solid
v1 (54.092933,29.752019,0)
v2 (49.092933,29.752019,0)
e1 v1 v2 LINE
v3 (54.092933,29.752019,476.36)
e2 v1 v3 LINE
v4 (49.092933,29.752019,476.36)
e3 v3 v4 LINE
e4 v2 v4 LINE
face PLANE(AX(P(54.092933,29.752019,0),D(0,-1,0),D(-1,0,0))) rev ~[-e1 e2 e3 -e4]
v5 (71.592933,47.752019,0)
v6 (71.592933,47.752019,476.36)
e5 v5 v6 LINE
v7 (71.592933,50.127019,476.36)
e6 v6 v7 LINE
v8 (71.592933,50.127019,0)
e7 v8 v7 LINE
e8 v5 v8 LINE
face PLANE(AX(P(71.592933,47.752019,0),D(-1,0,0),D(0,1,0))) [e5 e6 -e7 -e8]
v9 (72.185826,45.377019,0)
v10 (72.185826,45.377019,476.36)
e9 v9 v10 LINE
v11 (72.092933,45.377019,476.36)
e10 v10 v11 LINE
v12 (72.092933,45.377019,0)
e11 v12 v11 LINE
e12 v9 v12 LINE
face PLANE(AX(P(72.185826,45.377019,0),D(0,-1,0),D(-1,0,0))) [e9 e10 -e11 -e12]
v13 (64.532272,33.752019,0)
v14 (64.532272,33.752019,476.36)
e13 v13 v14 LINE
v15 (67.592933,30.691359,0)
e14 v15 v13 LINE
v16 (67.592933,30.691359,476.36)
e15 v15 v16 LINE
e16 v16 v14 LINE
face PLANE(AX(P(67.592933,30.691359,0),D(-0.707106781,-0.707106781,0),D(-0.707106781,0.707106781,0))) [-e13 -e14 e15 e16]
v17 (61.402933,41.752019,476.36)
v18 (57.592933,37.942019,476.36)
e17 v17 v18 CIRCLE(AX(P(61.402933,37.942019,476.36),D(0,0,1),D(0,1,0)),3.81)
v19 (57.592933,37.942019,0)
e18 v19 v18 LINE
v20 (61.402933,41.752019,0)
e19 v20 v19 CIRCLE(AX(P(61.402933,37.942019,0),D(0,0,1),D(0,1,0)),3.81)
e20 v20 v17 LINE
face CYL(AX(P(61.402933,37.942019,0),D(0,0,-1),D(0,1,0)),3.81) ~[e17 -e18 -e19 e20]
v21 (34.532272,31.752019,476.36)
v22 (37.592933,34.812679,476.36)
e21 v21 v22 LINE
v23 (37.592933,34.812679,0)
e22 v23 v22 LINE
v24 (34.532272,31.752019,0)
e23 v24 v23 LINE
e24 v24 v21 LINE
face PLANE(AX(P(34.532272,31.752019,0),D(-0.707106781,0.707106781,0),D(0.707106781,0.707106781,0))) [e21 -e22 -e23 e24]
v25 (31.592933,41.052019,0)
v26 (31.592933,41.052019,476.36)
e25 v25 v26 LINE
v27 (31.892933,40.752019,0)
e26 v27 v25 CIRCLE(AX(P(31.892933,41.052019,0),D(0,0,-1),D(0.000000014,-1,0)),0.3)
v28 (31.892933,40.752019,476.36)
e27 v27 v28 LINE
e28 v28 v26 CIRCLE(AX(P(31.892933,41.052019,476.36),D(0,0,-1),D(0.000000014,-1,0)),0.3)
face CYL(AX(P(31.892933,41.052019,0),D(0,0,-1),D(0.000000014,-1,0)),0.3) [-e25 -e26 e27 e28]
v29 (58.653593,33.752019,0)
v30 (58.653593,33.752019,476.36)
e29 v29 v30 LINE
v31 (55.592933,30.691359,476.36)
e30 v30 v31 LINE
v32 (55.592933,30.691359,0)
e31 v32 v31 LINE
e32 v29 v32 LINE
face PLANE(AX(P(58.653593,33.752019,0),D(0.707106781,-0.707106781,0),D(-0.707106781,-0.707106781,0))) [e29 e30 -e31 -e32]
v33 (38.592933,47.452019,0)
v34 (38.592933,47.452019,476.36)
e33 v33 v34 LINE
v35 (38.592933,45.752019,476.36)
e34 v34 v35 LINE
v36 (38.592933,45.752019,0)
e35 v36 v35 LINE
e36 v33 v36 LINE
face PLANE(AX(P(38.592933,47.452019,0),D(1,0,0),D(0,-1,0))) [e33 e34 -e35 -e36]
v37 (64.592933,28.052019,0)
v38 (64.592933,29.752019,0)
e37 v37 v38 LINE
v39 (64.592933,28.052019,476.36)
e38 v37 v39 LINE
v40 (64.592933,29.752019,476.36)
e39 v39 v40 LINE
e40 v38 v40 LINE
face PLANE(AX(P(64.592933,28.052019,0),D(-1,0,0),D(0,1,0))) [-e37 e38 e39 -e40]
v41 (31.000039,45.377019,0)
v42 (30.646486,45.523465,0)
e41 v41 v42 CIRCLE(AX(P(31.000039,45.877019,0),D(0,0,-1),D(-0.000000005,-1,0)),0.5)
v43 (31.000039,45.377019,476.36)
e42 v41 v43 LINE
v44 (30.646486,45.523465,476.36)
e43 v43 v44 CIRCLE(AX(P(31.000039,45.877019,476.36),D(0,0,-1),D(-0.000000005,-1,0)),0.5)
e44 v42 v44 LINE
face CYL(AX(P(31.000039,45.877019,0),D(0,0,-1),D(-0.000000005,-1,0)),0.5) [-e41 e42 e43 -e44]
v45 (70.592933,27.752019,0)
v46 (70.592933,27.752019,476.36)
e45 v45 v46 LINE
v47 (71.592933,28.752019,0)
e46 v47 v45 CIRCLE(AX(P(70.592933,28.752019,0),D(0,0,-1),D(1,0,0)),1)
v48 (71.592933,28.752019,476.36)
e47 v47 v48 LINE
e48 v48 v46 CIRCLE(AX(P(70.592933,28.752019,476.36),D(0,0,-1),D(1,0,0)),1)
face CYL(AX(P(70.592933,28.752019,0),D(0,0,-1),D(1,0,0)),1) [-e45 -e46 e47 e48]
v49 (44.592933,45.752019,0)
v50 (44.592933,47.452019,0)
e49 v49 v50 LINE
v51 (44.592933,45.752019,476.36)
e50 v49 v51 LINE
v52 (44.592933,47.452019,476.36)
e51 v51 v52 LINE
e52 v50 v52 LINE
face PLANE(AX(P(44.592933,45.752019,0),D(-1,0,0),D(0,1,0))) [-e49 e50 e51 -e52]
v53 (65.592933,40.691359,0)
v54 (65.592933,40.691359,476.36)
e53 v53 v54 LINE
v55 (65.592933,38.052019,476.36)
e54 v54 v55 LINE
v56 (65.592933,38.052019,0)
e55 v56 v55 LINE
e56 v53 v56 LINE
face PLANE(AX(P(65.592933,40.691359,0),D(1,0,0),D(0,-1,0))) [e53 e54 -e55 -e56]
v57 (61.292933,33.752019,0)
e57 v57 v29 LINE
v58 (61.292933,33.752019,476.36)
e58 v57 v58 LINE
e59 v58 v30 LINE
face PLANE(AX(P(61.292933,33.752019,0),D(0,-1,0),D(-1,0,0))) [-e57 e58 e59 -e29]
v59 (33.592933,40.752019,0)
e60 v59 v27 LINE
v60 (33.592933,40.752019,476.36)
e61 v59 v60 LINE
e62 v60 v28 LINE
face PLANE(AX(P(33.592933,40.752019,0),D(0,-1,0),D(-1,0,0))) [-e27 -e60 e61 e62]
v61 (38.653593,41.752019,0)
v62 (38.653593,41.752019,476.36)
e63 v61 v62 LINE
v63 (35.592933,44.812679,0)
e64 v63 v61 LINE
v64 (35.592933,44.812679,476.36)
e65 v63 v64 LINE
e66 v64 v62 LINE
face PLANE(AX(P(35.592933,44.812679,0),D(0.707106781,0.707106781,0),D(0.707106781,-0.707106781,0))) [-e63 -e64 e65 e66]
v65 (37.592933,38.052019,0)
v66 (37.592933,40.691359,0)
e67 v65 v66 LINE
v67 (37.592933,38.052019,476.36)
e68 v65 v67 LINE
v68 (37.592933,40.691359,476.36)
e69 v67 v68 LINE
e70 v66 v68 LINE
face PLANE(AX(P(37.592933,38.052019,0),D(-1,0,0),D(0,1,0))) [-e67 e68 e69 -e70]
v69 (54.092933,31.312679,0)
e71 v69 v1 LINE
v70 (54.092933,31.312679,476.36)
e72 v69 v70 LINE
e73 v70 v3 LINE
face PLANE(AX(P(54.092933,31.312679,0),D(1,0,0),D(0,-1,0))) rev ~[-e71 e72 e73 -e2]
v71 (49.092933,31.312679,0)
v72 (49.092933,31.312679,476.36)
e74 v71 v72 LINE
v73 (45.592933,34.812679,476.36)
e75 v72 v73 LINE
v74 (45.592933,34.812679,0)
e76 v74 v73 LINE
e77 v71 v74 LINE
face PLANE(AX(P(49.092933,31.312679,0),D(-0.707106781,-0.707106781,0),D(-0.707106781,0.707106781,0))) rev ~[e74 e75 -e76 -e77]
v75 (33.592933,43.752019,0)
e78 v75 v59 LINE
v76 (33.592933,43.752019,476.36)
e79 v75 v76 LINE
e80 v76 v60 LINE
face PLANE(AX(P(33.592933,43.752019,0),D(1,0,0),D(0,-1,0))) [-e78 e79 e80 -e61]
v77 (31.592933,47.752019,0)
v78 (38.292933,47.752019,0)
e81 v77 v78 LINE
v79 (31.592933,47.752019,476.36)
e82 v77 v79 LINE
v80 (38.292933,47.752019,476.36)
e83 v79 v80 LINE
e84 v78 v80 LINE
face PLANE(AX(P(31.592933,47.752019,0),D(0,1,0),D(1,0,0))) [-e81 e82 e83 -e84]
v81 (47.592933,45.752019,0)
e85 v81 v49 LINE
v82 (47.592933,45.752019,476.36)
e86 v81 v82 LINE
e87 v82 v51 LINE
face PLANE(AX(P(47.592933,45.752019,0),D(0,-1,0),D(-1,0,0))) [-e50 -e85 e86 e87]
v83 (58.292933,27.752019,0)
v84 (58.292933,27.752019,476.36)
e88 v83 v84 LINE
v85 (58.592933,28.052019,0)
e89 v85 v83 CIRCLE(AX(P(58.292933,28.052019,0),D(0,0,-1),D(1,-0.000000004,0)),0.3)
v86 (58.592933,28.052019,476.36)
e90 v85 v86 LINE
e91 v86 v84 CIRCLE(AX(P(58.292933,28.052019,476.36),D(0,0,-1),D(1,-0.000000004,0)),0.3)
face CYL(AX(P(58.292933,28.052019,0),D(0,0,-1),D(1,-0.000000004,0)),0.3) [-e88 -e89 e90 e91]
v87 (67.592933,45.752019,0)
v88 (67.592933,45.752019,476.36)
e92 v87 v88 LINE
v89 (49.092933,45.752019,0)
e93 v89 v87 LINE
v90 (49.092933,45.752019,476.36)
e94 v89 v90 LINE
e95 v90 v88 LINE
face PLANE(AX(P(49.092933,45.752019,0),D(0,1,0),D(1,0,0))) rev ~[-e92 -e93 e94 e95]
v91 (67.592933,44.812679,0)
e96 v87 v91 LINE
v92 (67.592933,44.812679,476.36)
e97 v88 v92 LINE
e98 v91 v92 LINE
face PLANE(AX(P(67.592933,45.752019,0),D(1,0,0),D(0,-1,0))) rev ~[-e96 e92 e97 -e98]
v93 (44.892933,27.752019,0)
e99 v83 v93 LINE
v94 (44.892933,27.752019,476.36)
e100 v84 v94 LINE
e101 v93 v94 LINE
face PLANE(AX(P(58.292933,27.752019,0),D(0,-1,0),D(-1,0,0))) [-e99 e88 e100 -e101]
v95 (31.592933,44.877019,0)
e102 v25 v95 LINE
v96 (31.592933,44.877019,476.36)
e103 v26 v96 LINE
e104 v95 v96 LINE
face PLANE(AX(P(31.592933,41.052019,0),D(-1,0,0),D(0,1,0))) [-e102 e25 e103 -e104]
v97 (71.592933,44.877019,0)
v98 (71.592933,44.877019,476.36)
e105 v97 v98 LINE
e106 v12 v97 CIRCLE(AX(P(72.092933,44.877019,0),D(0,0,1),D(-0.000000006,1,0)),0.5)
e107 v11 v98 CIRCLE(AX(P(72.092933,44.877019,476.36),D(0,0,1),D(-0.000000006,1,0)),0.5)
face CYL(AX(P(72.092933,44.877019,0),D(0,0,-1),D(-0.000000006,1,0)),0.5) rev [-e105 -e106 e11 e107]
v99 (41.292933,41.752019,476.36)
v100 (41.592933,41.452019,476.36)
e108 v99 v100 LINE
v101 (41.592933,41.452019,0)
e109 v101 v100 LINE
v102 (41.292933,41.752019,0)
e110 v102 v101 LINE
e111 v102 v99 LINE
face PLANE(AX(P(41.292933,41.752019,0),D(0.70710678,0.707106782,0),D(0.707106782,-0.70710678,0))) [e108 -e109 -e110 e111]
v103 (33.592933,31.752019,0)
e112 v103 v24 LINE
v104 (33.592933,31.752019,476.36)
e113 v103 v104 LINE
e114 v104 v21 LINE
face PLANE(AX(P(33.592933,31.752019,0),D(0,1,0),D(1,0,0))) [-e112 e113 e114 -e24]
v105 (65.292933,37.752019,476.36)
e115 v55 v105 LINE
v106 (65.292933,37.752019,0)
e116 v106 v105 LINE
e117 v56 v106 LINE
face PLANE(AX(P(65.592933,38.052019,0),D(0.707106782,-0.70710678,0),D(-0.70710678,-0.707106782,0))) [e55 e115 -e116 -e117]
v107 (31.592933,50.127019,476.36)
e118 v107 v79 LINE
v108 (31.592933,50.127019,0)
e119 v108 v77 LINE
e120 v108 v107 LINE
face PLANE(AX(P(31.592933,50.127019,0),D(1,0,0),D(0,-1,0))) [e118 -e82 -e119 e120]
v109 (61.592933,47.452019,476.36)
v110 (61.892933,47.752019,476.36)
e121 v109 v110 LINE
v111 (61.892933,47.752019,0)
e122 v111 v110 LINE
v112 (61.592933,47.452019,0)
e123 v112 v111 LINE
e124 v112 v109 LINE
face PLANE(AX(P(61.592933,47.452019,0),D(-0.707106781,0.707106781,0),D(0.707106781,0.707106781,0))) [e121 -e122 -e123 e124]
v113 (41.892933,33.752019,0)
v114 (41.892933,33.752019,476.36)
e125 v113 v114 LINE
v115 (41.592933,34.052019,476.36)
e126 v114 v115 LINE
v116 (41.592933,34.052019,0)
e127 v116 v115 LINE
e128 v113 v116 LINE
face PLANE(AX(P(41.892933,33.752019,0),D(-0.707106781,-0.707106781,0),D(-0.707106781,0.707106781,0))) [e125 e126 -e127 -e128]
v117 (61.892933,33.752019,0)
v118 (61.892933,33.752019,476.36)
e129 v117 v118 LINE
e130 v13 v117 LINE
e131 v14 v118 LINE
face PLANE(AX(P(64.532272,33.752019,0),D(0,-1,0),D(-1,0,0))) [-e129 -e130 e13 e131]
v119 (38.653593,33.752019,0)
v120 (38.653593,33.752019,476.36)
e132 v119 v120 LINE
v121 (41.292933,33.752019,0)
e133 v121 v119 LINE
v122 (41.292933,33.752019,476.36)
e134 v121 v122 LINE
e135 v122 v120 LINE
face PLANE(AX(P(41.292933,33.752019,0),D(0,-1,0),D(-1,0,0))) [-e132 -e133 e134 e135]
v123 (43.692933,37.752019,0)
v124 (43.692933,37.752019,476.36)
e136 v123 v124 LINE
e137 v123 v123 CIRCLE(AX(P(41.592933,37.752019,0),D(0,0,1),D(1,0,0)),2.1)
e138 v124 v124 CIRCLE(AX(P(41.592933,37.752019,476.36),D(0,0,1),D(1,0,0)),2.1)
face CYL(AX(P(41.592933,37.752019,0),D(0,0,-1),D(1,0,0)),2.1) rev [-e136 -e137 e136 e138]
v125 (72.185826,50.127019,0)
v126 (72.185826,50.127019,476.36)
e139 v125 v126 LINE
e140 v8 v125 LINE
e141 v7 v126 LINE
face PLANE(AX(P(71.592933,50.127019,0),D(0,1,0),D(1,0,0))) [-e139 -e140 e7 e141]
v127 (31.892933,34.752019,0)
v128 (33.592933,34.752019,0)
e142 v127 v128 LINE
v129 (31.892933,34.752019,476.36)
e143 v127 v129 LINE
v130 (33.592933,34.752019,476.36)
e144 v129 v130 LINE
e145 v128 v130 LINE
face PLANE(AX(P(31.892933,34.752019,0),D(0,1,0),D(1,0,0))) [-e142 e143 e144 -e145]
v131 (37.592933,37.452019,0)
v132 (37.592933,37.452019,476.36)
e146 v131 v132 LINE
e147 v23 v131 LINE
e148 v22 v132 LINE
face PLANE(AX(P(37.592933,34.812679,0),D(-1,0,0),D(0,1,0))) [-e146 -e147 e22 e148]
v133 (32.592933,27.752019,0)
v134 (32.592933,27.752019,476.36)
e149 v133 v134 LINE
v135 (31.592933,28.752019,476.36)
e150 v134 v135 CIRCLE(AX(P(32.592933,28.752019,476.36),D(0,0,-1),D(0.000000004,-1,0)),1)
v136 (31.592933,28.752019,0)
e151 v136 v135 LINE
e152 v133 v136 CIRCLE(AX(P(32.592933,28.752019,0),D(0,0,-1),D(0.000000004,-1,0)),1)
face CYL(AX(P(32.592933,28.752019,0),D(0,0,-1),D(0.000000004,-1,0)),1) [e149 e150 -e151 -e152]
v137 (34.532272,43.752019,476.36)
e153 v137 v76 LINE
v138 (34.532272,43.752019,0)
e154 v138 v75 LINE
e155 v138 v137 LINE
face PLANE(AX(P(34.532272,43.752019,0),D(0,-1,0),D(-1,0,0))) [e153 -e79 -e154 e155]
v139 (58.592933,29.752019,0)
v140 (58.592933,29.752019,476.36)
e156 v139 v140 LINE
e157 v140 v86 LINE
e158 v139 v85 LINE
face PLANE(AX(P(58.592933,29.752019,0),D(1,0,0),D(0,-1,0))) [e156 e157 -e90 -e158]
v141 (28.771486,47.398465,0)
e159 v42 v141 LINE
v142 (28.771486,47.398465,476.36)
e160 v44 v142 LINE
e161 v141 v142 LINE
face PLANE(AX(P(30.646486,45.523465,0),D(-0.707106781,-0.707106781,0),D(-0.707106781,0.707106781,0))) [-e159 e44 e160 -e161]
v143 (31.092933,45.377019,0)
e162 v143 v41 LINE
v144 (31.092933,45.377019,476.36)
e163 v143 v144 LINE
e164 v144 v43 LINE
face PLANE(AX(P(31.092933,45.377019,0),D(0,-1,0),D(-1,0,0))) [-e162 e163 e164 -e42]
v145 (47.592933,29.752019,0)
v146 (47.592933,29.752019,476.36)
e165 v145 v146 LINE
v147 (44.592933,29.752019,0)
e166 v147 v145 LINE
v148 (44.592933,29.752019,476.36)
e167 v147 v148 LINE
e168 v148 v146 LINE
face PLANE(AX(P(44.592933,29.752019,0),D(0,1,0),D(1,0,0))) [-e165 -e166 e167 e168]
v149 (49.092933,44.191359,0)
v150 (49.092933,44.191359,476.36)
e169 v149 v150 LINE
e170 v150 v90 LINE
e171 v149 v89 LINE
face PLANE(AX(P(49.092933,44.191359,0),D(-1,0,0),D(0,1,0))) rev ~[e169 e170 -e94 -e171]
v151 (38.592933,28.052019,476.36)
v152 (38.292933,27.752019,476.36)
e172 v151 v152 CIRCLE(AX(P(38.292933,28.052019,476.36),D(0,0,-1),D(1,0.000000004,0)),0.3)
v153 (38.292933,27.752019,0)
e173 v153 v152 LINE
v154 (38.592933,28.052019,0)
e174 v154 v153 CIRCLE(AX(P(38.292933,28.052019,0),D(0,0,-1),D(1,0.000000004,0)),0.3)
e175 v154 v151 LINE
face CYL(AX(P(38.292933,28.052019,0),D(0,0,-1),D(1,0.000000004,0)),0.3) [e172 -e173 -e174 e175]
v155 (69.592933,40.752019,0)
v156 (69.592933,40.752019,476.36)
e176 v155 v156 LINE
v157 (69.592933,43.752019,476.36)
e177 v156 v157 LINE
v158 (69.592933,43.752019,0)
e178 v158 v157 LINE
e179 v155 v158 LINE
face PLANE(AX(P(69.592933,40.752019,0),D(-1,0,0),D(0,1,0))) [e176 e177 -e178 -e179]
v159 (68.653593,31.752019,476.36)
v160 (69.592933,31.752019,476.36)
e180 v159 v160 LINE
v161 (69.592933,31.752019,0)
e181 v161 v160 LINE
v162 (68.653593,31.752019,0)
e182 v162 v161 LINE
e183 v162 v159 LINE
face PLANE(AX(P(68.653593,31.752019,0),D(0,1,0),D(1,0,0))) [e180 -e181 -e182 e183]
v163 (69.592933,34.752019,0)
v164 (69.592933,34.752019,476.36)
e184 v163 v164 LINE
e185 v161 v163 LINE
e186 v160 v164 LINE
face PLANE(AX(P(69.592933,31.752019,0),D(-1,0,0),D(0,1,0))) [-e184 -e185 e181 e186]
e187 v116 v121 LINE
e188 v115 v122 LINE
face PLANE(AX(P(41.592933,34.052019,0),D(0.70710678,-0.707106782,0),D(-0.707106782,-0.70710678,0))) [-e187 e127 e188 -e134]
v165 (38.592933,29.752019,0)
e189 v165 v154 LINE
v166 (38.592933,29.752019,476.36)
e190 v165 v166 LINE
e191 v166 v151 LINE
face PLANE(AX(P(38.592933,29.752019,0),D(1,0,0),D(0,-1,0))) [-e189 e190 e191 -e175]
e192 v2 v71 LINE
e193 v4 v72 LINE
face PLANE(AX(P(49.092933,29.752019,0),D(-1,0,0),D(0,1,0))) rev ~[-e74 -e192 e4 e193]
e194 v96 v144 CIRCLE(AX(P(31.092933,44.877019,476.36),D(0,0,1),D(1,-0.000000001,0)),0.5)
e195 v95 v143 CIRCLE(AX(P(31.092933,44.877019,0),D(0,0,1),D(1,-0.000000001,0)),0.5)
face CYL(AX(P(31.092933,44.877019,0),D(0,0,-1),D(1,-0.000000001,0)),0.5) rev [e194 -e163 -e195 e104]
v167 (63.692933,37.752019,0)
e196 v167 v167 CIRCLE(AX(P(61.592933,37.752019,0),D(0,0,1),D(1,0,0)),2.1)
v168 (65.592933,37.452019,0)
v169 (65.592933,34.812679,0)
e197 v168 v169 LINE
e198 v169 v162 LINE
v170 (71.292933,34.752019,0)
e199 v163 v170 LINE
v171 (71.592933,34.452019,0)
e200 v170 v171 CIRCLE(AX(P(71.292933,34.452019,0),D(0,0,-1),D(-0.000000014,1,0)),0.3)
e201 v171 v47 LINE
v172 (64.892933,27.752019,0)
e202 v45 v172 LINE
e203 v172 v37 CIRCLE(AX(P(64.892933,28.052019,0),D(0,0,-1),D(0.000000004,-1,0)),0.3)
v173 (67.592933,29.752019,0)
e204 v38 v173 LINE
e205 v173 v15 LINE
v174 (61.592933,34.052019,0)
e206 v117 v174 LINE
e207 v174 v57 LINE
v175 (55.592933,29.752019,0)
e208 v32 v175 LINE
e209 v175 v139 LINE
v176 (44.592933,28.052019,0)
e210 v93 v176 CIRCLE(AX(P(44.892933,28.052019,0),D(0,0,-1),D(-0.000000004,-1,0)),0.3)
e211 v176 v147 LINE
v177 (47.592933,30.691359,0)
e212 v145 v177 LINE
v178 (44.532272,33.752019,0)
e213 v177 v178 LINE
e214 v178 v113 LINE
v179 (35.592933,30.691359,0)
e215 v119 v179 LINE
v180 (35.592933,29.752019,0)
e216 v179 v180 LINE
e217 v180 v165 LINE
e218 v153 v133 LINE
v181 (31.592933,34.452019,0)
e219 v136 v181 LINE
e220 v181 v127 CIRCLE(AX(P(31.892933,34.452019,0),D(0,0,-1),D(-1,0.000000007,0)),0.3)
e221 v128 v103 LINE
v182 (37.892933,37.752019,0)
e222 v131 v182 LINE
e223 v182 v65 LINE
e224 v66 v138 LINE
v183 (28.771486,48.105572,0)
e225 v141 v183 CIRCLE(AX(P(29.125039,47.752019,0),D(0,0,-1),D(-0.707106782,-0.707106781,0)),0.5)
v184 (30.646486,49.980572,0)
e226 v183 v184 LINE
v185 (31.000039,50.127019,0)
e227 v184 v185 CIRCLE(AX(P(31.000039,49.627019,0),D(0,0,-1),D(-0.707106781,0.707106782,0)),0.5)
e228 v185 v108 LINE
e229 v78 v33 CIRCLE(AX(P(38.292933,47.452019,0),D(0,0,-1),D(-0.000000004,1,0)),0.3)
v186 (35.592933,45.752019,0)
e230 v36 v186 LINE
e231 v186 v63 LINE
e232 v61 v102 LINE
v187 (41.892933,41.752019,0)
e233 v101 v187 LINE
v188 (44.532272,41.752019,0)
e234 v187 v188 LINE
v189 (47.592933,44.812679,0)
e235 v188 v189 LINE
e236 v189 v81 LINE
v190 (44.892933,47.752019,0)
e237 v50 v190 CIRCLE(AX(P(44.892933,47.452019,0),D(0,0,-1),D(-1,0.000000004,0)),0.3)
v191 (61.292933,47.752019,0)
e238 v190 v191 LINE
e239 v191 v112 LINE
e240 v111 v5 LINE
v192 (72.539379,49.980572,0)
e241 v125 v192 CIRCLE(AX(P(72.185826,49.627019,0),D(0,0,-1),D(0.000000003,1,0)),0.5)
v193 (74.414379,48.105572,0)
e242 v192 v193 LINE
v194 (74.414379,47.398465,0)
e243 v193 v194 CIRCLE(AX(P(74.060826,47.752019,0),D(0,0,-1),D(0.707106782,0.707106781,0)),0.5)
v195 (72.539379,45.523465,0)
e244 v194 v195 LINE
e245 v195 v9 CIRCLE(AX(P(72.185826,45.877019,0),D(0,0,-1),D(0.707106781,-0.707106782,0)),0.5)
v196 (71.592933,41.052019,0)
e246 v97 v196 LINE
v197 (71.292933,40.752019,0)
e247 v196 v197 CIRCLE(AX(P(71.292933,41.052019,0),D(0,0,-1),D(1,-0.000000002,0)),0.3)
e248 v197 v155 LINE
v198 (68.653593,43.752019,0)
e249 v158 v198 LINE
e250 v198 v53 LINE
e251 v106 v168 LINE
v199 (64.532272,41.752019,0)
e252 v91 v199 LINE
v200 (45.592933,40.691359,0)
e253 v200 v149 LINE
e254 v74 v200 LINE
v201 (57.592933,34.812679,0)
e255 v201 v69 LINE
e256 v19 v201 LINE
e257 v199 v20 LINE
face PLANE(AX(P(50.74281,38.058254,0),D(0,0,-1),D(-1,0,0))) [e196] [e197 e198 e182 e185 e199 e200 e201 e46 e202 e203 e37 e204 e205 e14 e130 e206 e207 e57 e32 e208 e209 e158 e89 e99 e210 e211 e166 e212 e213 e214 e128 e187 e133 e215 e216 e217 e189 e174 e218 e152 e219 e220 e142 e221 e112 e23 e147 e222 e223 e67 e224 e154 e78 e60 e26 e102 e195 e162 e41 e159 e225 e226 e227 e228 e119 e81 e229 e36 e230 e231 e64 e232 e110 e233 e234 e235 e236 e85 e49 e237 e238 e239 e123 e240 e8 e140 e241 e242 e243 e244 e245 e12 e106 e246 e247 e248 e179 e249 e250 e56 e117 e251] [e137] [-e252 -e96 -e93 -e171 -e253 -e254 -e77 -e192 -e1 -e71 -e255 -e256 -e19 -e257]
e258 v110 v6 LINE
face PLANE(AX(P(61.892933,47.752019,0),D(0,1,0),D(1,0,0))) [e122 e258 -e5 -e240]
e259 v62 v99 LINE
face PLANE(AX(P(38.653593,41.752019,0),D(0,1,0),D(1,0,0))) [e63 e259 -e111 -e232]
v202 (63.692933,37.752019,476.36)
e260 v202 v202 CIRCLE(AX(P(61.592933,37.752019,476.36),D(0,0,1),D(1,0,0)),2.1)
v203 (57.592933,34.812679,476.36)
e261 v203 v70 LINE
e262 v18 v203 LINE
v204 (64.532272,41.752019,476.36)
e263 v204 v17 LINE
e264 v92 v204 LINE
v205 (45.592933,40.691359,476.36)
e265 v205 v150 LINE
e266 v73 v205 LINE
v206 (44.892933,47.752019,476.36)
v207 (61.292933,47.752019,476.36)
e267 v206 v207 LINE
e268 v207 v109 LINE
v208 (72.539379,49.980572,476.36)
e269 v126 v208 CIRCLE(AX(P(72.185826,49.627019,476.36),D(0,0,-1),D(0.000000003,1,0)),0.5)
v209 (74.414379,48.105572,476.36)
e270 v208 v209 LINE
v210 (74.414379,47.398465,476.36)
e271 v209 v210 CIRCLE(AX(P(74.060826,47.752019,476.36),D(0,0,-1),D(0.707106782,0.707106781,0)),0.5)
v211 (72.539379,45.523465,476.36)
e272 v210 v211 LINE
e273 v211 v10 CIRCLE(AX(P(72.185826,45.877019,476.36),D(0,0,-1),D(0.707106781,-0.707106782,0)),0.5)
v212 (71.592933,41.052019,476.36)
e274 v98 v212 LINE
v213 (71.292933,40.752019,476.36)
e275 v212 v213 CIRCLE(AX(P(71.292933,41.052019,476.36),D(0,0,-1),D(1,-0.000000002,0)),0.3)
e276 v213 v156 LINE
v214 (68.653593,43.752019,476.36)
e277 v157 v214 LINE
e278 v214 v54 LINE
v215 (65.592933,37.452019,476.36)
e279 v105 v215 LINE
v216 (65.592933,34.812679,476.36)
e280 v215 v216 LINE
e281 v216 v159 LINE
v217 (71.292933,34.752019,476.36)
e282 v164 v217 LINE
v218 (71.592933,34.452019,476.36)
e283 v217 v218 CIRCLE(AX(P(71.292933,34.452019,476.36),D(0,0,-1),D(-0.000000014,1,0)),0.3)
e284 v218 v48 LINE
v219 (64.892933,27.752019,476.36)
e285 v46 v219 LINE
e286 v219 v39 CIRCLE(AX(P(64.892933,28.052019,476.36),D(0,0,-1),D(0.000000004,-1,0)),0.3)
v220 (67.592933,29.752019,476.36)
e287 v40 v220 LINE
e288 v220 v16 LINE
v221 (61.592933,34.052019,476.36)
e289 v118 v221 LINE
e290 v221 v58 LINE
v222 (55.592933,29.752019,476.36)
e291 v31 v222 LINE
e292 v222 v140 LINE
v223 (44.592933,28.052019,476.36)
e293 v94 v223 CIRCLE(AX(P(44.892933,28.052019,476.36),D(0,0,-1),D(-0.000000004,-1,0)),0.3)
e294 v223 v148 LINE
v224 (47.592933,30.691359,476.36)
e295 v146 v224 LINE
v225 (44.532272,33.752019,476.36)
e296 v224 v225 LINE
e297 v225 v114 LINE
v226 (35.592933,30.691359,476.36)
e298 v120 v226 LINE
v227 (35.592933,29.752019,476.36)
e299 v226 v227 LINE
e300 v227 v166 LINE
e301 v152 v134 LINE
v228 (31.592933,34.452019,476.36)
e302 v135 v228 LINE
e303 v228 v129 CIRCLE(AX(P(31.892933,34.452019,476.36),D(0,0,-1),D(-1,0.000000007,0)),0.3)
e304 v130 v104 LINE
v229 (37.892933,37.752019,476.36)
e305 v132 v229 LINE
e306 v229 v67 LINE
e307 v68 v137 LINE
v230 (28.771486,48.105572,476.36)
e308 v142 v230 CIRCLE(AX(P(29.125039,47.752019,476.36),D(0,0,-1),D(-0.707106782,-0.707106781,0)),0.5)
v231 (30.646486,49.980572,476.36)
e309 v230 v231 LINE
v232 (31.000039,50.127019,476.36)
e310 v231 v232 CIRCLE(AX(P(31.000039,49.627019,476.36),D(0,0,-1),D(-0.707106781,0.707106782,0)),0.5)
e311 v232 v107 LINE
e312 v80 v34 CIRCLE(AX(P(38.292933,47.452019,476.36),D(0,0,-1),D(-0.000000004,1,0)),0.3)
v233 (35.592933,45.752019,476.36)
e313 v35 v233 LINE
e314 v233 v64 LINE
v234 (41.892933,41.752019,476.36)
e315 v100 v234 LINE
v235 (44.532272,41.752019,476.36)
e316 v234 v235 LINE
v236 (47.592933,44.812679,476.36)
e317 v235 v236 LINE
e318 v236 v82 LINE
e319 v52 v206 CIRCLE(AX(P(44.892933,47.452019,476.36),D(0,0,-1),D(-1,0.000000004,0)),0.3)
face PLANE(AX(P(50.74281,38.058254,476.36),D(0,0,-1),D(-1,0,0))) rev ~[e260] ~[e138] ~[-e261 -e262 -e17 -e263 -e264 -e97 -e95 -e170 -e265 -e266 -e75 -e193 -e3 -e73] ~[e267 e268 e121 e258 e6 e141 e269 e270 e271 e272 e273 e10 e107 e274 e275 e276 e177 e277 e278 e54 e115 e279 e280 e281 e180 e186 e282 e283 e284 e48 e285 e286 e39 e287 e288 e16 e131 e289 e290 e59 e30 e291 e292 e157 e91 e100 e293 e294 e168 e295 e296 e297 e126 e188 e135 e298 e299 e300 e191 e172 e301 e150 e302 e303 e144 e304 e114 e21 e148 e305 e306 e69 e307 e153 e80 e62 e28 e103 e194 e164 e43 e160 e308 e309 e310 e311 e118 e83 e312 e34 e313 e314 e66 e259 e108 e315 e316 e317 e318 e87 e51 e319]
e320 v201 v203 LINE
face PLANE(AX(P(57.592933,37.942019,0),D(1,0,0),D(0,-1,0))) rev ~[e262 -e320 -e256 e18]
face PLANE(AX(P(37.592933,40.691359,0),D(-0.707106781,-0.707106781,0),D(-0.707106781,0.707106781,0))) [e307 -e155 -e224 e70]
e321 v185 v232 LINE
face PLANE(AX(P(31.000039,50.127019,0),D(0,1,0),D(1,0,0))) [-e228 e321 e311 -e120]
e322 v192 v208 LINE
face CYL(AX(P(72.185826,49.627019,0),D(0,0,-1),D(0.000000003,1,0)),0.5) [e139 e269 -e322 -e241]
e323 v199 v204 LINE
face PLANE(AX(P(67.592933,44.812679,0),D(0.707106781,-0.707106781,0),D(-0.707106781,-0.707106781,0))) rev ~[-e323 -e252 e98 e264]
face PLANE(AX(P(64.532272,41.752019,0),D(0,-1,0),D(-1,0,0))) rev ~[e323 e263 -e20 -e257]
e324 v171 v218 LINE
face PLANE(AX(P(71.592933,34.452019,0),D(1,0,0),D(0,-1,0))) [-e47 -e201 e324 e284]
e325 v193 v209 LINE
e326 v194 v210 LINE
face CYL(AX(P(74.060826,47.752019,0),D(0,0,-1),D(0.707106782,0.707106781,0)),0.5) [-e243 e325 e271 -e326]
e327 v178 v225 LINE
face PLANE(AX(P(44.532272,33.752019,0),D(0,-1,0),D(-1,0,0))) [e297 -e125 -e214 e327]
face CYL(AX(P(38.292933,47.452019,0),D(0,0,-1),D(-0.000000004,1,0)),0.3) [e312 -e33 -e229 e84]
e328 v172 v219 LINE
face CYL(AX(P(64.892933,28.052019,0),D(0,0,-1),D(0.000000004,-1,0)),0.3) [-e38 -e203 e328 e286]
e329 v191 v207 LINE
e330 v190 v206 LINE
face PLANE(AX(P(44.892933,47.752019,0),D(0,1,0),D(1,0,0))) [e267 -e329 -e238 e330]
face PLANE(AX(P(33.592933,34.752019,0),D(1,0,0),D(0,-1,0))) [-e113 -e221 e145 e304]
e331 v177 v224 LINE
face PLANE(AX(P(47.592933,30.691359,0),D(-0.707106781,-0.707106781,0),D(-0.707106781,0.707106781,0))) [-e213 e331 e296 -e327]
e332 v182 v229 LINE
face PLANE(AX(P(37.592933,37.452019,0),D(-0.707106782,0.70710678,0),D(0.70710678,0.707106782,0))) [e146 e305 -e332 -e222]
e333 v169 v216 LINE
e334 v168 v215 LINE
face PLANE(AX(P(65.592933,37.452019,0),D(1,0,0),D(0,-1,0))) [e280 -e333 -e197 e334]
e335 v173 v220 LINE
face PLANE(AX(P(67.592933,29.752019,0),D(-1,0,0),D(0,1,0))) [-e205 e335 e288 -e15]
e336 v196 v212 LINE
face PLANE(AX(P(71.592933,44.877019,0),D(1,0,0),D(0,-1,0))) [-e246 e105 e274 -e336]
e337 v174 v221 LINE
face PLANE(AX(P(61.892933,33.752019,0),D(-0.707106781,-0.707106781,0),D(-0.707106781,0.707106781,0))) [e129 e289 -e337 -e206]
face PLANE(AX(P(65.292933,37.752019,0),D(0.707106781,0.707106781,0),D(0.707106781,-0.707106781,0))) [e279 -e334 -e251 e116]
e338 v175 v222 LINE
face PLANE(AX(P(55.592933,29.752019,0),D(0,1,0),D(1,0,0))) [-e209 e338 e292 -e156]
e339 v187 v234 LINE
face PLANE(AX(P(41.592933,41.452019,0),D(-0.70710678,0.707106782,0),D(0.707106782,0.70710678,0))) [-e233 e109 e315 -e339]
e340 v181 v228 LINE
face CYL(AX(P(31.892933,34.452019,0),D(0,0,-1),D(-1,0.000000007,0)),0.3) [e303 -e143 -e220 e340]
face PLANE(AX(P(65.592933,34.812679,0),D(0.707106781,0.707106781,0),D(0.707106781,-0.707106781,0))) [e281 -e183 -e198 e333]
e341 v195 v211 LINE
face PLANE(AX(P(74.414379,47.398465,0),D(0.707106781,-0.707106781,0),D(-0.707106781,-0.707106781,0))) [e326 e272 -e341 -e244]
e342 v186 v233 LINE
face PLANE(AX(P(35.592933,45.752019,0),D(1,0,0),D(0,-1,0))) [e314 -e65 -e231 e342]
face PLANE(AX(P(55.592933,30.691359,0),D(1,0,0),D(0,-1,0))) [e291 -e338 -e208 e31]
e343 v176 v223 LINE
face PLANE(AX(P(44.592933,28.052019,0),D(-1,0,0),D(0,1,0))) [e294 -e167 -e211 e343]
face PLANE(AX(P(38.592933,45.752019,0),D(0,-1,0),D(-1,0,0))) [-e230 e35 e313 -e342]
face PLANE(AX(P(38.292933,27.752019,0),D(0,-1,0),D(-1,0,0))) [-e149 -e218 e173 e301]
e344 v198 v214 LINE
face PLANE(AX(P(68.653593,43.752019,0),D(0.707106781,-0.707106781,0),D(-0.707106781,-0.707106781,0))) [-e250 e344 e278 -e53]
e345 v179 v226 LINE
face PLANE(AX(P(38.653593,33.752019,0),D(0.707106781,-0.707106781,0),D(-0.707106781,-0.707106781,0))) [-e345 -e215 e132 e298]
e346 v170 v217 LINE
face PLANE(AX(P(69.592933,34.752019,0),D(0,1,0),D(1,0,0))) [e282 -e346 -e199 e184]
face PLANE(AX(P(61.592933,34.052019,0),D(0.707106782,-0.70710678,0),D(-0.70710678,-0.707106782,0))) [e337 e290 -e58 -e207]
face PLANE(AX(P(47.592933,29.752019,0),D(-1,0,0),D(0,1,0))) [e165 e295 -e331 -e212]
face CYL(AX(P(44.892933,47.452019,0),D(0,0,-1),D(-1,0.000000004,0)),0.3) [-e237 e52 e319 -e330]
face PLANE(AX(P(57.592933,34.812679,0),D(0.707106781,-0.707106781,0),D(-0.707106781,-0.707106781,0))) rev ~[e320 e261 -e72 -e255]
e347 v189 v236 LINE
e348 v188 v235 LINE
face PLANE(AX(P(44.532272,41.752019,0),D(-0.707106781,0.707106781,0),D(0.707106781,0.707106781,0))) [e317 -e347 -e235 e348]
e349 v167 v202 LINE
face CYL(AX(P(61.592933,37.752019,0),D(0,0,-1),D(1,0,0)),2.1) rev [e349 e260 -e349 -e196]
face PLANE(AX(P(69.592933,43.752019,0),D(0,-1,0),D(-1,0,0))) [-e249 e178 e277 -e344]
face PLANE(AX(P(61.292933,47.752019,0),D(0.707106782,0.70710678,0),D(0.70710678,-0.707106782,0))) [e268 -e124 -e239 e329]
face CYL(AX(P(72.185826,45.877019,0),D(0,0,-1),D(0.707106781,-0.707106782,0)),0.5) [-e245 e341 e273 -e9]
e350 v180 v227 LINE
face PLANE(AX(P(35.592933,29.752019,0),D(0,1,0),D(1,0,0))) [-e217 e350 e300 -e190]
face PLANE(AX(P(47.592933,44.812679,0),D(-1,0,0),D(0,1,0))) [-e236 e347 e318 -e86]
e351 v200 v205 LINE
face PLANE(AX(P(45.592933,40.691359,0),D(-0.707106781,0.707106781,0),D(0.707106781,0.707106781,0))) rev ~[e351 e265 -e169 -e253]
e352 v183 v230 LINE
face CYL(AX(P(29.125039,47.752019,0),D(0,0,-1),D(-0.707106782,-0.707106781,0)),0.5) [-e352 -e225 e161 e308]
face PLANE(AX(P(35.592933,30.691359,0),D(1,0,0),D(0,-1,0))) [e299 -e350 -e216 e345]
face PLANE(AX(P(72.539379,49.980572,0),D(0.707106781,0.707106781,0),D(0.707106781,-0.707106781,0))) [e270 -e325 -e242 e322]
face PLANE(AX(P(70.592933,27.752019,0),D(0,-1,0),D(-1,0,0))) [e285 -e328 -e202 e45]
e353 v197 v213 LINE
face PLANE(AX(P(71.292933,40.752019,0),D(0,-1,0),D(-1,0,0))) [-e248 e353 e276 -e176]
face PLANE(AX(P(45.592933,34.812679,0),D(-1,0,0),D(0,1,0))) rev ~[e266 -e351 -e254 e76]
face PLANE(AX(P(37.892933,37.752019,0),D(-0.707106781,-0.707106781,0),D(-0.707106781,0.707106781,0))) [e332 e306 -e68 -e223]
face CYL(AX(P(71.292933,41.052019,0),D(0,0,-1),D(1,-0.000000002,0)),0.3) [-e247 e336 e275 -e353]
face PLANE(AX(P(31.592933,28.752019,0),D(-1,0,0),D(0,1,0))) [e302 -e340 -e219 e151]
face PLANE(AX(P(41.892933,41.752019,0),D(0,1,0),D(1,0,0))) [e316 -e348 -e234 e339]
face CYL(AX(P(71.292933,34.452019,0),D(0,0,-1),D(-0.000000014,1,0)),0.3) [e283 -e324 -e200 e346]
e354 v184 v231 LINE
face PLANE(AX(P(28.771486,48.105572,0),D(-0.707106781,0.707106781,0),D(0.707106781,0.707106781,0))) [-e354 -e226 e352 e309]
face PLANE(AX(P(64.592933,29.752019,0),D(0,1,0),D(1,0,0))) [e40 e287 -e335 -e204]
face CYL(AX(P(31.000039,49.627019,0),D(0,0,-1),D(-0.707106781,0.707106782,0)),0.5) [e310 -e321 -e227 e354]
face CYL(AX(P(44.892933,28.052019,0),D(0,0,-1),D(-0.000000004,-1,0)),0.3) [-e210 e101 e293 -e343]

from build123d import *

# Parameters (mm, degrees)
MODEL_R             = 2.100000001
BOSS_EXTRUDE1_DEPTH = 476.36


with BuildPart() as part:
    # Model → Boss-Extrude1 (new body)
    with BuildSketch(Plane.XY):
        with BuildLine():
            Line((28.771485975, 48.105572105), (30.646485975, 49.980572105))
            ThreePointArc((30.646485975, 49.980572105), (30.808697649, 50.08895848), (31.000039365, 50.127018713))
            Line((31.000039365, 50.127018713), (31.592932584, 50.127018713))
            Line((31.592932584, 50.127018713), (31.592932584, 47.752018713))
            Line((31.592932584, 47.752018713), (38.292932585, 47.752018713))
            ThreePointArc((38.292932585, 47.752018713), (38.505064619, 47.664150748), (38.592932584, 47.452018714))
            Line((38.592932584, 47.452018714), (38.592932584, 45.752018713))
            Line((38.592932584, 45.752018713), (35.592932585, 45.752018713))
            Line((35.592932585, 45.752018713), (35.592932585, 44.812678885))
            Line((35.592932585, 44.812678885), (38.653592756, 41.752018713))
            Line((38.653592756, 41.752018713), (41.292932583, 41.752018713))
            Line((41.292932583, 41.752018713), (41.592932584, 41.452018713))
            Line((41.592932584, 41.452018713), (41.892932586, 41.752018714))
            Line((41.892932586, 41.752018714), (44.532272412, 41.752018714))
            Line((44.532272412, 41.752018714), (47.592932584, 44.812678886))
            Line((47.592932584, 44.812678886), (47.592932584, 45.752018714))
            Line((47.592932584, 45.752018714), (44.592932584, 45.752018714))
            Line((44.592932584, 45.752018714), (44.592932584, 47.452018715))
            ThreePointArc((44.592932584, 47.452018715), (44.68080055, 47.664150749), (44.892932584, 47.752018715))
            Line((44.892932584, 47.752018715), (61.292932583, 47.752018715))
            Line((61.292932583, 47.752018715), (61.592932582, 47.452018715))
            Line((61.592932582, 47.452018715), (61.892932583, 47.752018716))
            Line((61.892932583, 47.752018716), (71.592932583, 47.752018716))
            Line((71.592932583, 47.752018716), (71.592932583, 50.127018711))
            Line((71.592932583, 50.127018711), (72.185825802, 50.127018711))
            ThreePointArc((72.185825802, 50.127018711), (72.377167518, 50.088958477), (72.539379192, 49.980572102))
            Line((72.539379192, 49.980572102), (74.414379192, 48.105572102))
            ThreePointArc((74.414379192, 48.105572102), (74.560825801, 47.752018712), (74.414379192, 47.398465322))
            Line((74.414379192, 47.398465322), (72.539379192, 45.523465322))
            ThreePointArc((72.539379192, 45.523465322), (72.377167518, 45.415078947), (72.185825802, 45.377018714))
            Line((72.185825802, 45.377018714), (72.092932582, 45.377018714))
            ThreePointArc((72.092932582, 45.377018714), (71.739379192, 45.230572103), (71.592932583, 44.877018713))
            Line((71.592932583, 44.877018713), (71.592932583, 41.052018712))
            ThreePointArc((71.592932583, 41.052018712), (71.505064617, 40.839886678), (71.292932581, 40.752018713))
            Line((71.292932581, 40.752018713), (69.592932583, 40.752018713))
            Line((69.592932583, 40.752018713), (69.592932583, 43.752018712))
            Line((69.592932583, 43.752018712), (68.653592755, 43.752018712))
            Line((68.653592755, 43.752018712), (65.592932583, 40.691358541))
            Line((65.592932583, 40.691358541), (65.592932583, 38.052018712))
            Line((65.592932583, 38.052018712), (65.292932584, 37.752018712))
            Line((65.292932584, 37.752018712), (65.592932583, 37.452018713))
            Line((65.592932583, 37.452018713), (65.592932583, 34.812678884))
            Line((65.592932583, 34.812678884), (68.653592755, 31.752018712))
            Line((68.653592755, 31.752018712), (69.592932583, 31.752018712))
            Line((69.592932583, 31.752018712), (69.592932583, 34.752018711))
            Line((69.592932583, 34.752018711), (71.292932581, 34.752018711))
            ThreePointArc((71.292932581, 34.752018711), (71.505064617, 34.664150747), (71.592932583, 34.452018712))
            Line((71.592932583, 34.452018712), (71.592932583, 28.75201871))
            ThreePointArc((71.592932583, 28.75201871), (71.300039364, 28.044911929), (70.592932582, 27.752018711))
            Line((70.592932582, 27.752018711), (64.892932582, 27.752018711))
            ThreePointArc((64.892932582, 27.752018711), (64.680800548, 27.839886676), (64.592932583, 28.05201871))
            Line((64.592932583, 28.05201871), (64.592932583, 29.752018711))
            Line((64.592932583, 29.752018711), (67.592932582, 29.752018711))
            Line((67.592932582, 29.752018711), (67.592932582, 30.69135854))
            Line((67.592932582, 30.69135854), (64.532272411, 33.752018711))
            Line((64.532272411, 33.752018711), (61.892932584, 33.752018711))
            Line((61.892932584, 33.752018711), (61.592932582, 34.052018713))
            Line((61.592932582, 34.052018713), (61.292932582, 33.752018712))
            Line((61.292932582, 33.752018712), (58.653592755, 33.752018712))
            Line((58.653592755, 33.752018712), (55.592932583, 30.691358541))
            Line((55.592932583, 30.691358541), (55.592932583, 29.752018713))
            Line((55.592932583, 29.752018713), (58.592932583, 29.752018713))
            Line((58.592932583, 29.752018713), (58.592932583, 28.052018712))
            ThreePointArc((58.592932583, 28.052018712), (58.505064617, 27.839886678), (58.292932583, 27.752018712))
            Line((58.292932583, 27.752018712), (44.892932584, 27.752018712))
            ThreePointArc((44.892932584, 27.752018712), (44.68080055, 27.839886678), (44.592932584, 28.052018712))
            Line((44.592932584, 28.052018712), (44.592932584, 29.752018713))
            Line((44.592932584, 29.752018713), (47.592932584, 29.752018713))
            Line((47.592932584, 29.752018713), (47.592932584, 30.691358541))
            Line((47.592932584, 30.691358541), (44.532272412, 33.752018712))
            Line((44.532272412, 33.752018712), (41.892932586, 33.752018712))
            Line((41.892932586, 33.752018712), (41.592932584, 34.052018714))
            Line((41.592932584, 34.052018714), (41.292932583, 33.752018714))
            Line((41.292932583, 33.752018714), (38.653592756, 33.752018714))
            Line((38.653592756, 33.752018714), (35.592932585, 30.691358542))
            Line((35.592932585, 30.691358542), (35.592932585, 29.752018714))
            Line((35.592932585, 29.752018714), (38.592932584, 29.752018714))
            Line((38.592932584, 29.752018714), (38.592932584, 28.052018713))
            ThreePointArc((38.592932584, 28.052018713), (38.505064619, 27.839886679), (38.292932585, 27.752018714))
            Line((38.292932585, 27.752018714), (32.592932585, 27.752018714))
            ThreePointArc((32.592932585, 27.752018714), (31.885825803, 28.044911931), (31.592932584, 28.752018713))
            Line((31.592932584, 28.752018713), (31.592932584, 34.452018715))
            ThreePointArc((31.592932584, 34.452018715), (31.68080055, 34.664150748), (31.892932583, 34.752018714))
            Line((31.892932583, 34.752018714), (33.592932584, 34.752018714))
            Line((33.592932584, 34.752018714), (33.592932584, 31.752018715))
            Line((33.592932584, 31.752018715), (34.532272412, 31.752018715))
            Line((34.532272412, 31.752018715), (37.592932584, 34.812678886))
            Line((37.592932584, 34.812678886), (37.592932584, 37.452018715))
            Line((37.592932584, 37.452018715), (37.892932583, 37.752018715))
            Line((37.892932583, 37.752018715), (37.592932584, 38.052018714))
            Line((37.592932584, 38.052018714), (37.592932584, 40.691358543))
            Line((37.592932584, 40.691358543), (34.532272412, 43.752018715))
            Line((34.532272412, 43.752018715), (33.592932584, 43.752018715))
            Line((33.592932584, 43.752018715), (33.592932584, 40.752018716))
            Line((33.592932584, 40.752018716), (31.892932586, 40.752018716))
            ThreePointArc((31.892932586, 40.752018716), (31.68080055, 40.83988668), (31.592932584, 41.052018715))
            Line((31.592932584, 41.052018715), (31.592932584, 44.877018715))
            ThreePointArc((31.592932584, 44.877018715), (31.446485975, 45.230572106), (31.092932585, 45.377018716))
            Line((31.092932585, 45.377018716), (31.000039365, 45.377018716))
            ThreePointArc((31.000039365, 45.377018716), (30.808697649, 45.41507895), (30.646485975, 45.523465324))
            Line((30.646485975, 45.523465324), (28.771485975, 47.398465325))
            ThreePointArc((28.771485975, 47.398465325), (28.625039366, 47.752018715), (28.771485975, 48.105572105))
        make_face()
        with Locations((61.592932582, 37.752018715)):
            Circle(MODEL_R, mode=Mode.SUBTRACT)
        with Locations((41.592932582, 37.752018715)):
            Circle(MODEL_R, mode=Mode.SUBTRACT)
        with BuildLine():
            Line((54.092932584, 29.752018715), (49.092932584, 29.752018715))
            Line((49.092932584, 29.752018715), (49.092932584, 31.312678886))
            Line((49.092932584, 31.312678886), (45.592932583, 34.812678886))
            Line((45.592932583, 34.812678886), (45.592932583, 40.691358543))
            Line((45.592932583, 40.691358543), (49.092932584, 44.191358544))
            Line((49.092932584, 44.191358544), (49.092932584, 45.752018714))
            Line((49.092932584, 45.752018714), (67.592932582, 45.752018714))
            Line((67.592932582, 45.752018714), (67.592932582, 44.812678887))
            Line((67.592932582, 44.812678887), (64.532272411, 41.752018716))
            Line((64.532272411, 41.752018716), (61.402932584, 41.752018716))
            ThreePointArc((61.402932584, 41.752018716), (58.708855747, 40.636095552), (57.592932584, 37.942018716))
            Line((57.592932584, 37.942018716), (57.592932584, 34.812678886))
            Line((57.592932584, 34.812678886), (54.092932584, 31.312678886))
            Line((54.092932584, 31.312678886), (54.092932584, 29.752018715))
        make_face(mode=Mode.SUBTRACT)
    extrude(amount=BOSS_EXTRUDE1_DEPTH)


solid = part.part
